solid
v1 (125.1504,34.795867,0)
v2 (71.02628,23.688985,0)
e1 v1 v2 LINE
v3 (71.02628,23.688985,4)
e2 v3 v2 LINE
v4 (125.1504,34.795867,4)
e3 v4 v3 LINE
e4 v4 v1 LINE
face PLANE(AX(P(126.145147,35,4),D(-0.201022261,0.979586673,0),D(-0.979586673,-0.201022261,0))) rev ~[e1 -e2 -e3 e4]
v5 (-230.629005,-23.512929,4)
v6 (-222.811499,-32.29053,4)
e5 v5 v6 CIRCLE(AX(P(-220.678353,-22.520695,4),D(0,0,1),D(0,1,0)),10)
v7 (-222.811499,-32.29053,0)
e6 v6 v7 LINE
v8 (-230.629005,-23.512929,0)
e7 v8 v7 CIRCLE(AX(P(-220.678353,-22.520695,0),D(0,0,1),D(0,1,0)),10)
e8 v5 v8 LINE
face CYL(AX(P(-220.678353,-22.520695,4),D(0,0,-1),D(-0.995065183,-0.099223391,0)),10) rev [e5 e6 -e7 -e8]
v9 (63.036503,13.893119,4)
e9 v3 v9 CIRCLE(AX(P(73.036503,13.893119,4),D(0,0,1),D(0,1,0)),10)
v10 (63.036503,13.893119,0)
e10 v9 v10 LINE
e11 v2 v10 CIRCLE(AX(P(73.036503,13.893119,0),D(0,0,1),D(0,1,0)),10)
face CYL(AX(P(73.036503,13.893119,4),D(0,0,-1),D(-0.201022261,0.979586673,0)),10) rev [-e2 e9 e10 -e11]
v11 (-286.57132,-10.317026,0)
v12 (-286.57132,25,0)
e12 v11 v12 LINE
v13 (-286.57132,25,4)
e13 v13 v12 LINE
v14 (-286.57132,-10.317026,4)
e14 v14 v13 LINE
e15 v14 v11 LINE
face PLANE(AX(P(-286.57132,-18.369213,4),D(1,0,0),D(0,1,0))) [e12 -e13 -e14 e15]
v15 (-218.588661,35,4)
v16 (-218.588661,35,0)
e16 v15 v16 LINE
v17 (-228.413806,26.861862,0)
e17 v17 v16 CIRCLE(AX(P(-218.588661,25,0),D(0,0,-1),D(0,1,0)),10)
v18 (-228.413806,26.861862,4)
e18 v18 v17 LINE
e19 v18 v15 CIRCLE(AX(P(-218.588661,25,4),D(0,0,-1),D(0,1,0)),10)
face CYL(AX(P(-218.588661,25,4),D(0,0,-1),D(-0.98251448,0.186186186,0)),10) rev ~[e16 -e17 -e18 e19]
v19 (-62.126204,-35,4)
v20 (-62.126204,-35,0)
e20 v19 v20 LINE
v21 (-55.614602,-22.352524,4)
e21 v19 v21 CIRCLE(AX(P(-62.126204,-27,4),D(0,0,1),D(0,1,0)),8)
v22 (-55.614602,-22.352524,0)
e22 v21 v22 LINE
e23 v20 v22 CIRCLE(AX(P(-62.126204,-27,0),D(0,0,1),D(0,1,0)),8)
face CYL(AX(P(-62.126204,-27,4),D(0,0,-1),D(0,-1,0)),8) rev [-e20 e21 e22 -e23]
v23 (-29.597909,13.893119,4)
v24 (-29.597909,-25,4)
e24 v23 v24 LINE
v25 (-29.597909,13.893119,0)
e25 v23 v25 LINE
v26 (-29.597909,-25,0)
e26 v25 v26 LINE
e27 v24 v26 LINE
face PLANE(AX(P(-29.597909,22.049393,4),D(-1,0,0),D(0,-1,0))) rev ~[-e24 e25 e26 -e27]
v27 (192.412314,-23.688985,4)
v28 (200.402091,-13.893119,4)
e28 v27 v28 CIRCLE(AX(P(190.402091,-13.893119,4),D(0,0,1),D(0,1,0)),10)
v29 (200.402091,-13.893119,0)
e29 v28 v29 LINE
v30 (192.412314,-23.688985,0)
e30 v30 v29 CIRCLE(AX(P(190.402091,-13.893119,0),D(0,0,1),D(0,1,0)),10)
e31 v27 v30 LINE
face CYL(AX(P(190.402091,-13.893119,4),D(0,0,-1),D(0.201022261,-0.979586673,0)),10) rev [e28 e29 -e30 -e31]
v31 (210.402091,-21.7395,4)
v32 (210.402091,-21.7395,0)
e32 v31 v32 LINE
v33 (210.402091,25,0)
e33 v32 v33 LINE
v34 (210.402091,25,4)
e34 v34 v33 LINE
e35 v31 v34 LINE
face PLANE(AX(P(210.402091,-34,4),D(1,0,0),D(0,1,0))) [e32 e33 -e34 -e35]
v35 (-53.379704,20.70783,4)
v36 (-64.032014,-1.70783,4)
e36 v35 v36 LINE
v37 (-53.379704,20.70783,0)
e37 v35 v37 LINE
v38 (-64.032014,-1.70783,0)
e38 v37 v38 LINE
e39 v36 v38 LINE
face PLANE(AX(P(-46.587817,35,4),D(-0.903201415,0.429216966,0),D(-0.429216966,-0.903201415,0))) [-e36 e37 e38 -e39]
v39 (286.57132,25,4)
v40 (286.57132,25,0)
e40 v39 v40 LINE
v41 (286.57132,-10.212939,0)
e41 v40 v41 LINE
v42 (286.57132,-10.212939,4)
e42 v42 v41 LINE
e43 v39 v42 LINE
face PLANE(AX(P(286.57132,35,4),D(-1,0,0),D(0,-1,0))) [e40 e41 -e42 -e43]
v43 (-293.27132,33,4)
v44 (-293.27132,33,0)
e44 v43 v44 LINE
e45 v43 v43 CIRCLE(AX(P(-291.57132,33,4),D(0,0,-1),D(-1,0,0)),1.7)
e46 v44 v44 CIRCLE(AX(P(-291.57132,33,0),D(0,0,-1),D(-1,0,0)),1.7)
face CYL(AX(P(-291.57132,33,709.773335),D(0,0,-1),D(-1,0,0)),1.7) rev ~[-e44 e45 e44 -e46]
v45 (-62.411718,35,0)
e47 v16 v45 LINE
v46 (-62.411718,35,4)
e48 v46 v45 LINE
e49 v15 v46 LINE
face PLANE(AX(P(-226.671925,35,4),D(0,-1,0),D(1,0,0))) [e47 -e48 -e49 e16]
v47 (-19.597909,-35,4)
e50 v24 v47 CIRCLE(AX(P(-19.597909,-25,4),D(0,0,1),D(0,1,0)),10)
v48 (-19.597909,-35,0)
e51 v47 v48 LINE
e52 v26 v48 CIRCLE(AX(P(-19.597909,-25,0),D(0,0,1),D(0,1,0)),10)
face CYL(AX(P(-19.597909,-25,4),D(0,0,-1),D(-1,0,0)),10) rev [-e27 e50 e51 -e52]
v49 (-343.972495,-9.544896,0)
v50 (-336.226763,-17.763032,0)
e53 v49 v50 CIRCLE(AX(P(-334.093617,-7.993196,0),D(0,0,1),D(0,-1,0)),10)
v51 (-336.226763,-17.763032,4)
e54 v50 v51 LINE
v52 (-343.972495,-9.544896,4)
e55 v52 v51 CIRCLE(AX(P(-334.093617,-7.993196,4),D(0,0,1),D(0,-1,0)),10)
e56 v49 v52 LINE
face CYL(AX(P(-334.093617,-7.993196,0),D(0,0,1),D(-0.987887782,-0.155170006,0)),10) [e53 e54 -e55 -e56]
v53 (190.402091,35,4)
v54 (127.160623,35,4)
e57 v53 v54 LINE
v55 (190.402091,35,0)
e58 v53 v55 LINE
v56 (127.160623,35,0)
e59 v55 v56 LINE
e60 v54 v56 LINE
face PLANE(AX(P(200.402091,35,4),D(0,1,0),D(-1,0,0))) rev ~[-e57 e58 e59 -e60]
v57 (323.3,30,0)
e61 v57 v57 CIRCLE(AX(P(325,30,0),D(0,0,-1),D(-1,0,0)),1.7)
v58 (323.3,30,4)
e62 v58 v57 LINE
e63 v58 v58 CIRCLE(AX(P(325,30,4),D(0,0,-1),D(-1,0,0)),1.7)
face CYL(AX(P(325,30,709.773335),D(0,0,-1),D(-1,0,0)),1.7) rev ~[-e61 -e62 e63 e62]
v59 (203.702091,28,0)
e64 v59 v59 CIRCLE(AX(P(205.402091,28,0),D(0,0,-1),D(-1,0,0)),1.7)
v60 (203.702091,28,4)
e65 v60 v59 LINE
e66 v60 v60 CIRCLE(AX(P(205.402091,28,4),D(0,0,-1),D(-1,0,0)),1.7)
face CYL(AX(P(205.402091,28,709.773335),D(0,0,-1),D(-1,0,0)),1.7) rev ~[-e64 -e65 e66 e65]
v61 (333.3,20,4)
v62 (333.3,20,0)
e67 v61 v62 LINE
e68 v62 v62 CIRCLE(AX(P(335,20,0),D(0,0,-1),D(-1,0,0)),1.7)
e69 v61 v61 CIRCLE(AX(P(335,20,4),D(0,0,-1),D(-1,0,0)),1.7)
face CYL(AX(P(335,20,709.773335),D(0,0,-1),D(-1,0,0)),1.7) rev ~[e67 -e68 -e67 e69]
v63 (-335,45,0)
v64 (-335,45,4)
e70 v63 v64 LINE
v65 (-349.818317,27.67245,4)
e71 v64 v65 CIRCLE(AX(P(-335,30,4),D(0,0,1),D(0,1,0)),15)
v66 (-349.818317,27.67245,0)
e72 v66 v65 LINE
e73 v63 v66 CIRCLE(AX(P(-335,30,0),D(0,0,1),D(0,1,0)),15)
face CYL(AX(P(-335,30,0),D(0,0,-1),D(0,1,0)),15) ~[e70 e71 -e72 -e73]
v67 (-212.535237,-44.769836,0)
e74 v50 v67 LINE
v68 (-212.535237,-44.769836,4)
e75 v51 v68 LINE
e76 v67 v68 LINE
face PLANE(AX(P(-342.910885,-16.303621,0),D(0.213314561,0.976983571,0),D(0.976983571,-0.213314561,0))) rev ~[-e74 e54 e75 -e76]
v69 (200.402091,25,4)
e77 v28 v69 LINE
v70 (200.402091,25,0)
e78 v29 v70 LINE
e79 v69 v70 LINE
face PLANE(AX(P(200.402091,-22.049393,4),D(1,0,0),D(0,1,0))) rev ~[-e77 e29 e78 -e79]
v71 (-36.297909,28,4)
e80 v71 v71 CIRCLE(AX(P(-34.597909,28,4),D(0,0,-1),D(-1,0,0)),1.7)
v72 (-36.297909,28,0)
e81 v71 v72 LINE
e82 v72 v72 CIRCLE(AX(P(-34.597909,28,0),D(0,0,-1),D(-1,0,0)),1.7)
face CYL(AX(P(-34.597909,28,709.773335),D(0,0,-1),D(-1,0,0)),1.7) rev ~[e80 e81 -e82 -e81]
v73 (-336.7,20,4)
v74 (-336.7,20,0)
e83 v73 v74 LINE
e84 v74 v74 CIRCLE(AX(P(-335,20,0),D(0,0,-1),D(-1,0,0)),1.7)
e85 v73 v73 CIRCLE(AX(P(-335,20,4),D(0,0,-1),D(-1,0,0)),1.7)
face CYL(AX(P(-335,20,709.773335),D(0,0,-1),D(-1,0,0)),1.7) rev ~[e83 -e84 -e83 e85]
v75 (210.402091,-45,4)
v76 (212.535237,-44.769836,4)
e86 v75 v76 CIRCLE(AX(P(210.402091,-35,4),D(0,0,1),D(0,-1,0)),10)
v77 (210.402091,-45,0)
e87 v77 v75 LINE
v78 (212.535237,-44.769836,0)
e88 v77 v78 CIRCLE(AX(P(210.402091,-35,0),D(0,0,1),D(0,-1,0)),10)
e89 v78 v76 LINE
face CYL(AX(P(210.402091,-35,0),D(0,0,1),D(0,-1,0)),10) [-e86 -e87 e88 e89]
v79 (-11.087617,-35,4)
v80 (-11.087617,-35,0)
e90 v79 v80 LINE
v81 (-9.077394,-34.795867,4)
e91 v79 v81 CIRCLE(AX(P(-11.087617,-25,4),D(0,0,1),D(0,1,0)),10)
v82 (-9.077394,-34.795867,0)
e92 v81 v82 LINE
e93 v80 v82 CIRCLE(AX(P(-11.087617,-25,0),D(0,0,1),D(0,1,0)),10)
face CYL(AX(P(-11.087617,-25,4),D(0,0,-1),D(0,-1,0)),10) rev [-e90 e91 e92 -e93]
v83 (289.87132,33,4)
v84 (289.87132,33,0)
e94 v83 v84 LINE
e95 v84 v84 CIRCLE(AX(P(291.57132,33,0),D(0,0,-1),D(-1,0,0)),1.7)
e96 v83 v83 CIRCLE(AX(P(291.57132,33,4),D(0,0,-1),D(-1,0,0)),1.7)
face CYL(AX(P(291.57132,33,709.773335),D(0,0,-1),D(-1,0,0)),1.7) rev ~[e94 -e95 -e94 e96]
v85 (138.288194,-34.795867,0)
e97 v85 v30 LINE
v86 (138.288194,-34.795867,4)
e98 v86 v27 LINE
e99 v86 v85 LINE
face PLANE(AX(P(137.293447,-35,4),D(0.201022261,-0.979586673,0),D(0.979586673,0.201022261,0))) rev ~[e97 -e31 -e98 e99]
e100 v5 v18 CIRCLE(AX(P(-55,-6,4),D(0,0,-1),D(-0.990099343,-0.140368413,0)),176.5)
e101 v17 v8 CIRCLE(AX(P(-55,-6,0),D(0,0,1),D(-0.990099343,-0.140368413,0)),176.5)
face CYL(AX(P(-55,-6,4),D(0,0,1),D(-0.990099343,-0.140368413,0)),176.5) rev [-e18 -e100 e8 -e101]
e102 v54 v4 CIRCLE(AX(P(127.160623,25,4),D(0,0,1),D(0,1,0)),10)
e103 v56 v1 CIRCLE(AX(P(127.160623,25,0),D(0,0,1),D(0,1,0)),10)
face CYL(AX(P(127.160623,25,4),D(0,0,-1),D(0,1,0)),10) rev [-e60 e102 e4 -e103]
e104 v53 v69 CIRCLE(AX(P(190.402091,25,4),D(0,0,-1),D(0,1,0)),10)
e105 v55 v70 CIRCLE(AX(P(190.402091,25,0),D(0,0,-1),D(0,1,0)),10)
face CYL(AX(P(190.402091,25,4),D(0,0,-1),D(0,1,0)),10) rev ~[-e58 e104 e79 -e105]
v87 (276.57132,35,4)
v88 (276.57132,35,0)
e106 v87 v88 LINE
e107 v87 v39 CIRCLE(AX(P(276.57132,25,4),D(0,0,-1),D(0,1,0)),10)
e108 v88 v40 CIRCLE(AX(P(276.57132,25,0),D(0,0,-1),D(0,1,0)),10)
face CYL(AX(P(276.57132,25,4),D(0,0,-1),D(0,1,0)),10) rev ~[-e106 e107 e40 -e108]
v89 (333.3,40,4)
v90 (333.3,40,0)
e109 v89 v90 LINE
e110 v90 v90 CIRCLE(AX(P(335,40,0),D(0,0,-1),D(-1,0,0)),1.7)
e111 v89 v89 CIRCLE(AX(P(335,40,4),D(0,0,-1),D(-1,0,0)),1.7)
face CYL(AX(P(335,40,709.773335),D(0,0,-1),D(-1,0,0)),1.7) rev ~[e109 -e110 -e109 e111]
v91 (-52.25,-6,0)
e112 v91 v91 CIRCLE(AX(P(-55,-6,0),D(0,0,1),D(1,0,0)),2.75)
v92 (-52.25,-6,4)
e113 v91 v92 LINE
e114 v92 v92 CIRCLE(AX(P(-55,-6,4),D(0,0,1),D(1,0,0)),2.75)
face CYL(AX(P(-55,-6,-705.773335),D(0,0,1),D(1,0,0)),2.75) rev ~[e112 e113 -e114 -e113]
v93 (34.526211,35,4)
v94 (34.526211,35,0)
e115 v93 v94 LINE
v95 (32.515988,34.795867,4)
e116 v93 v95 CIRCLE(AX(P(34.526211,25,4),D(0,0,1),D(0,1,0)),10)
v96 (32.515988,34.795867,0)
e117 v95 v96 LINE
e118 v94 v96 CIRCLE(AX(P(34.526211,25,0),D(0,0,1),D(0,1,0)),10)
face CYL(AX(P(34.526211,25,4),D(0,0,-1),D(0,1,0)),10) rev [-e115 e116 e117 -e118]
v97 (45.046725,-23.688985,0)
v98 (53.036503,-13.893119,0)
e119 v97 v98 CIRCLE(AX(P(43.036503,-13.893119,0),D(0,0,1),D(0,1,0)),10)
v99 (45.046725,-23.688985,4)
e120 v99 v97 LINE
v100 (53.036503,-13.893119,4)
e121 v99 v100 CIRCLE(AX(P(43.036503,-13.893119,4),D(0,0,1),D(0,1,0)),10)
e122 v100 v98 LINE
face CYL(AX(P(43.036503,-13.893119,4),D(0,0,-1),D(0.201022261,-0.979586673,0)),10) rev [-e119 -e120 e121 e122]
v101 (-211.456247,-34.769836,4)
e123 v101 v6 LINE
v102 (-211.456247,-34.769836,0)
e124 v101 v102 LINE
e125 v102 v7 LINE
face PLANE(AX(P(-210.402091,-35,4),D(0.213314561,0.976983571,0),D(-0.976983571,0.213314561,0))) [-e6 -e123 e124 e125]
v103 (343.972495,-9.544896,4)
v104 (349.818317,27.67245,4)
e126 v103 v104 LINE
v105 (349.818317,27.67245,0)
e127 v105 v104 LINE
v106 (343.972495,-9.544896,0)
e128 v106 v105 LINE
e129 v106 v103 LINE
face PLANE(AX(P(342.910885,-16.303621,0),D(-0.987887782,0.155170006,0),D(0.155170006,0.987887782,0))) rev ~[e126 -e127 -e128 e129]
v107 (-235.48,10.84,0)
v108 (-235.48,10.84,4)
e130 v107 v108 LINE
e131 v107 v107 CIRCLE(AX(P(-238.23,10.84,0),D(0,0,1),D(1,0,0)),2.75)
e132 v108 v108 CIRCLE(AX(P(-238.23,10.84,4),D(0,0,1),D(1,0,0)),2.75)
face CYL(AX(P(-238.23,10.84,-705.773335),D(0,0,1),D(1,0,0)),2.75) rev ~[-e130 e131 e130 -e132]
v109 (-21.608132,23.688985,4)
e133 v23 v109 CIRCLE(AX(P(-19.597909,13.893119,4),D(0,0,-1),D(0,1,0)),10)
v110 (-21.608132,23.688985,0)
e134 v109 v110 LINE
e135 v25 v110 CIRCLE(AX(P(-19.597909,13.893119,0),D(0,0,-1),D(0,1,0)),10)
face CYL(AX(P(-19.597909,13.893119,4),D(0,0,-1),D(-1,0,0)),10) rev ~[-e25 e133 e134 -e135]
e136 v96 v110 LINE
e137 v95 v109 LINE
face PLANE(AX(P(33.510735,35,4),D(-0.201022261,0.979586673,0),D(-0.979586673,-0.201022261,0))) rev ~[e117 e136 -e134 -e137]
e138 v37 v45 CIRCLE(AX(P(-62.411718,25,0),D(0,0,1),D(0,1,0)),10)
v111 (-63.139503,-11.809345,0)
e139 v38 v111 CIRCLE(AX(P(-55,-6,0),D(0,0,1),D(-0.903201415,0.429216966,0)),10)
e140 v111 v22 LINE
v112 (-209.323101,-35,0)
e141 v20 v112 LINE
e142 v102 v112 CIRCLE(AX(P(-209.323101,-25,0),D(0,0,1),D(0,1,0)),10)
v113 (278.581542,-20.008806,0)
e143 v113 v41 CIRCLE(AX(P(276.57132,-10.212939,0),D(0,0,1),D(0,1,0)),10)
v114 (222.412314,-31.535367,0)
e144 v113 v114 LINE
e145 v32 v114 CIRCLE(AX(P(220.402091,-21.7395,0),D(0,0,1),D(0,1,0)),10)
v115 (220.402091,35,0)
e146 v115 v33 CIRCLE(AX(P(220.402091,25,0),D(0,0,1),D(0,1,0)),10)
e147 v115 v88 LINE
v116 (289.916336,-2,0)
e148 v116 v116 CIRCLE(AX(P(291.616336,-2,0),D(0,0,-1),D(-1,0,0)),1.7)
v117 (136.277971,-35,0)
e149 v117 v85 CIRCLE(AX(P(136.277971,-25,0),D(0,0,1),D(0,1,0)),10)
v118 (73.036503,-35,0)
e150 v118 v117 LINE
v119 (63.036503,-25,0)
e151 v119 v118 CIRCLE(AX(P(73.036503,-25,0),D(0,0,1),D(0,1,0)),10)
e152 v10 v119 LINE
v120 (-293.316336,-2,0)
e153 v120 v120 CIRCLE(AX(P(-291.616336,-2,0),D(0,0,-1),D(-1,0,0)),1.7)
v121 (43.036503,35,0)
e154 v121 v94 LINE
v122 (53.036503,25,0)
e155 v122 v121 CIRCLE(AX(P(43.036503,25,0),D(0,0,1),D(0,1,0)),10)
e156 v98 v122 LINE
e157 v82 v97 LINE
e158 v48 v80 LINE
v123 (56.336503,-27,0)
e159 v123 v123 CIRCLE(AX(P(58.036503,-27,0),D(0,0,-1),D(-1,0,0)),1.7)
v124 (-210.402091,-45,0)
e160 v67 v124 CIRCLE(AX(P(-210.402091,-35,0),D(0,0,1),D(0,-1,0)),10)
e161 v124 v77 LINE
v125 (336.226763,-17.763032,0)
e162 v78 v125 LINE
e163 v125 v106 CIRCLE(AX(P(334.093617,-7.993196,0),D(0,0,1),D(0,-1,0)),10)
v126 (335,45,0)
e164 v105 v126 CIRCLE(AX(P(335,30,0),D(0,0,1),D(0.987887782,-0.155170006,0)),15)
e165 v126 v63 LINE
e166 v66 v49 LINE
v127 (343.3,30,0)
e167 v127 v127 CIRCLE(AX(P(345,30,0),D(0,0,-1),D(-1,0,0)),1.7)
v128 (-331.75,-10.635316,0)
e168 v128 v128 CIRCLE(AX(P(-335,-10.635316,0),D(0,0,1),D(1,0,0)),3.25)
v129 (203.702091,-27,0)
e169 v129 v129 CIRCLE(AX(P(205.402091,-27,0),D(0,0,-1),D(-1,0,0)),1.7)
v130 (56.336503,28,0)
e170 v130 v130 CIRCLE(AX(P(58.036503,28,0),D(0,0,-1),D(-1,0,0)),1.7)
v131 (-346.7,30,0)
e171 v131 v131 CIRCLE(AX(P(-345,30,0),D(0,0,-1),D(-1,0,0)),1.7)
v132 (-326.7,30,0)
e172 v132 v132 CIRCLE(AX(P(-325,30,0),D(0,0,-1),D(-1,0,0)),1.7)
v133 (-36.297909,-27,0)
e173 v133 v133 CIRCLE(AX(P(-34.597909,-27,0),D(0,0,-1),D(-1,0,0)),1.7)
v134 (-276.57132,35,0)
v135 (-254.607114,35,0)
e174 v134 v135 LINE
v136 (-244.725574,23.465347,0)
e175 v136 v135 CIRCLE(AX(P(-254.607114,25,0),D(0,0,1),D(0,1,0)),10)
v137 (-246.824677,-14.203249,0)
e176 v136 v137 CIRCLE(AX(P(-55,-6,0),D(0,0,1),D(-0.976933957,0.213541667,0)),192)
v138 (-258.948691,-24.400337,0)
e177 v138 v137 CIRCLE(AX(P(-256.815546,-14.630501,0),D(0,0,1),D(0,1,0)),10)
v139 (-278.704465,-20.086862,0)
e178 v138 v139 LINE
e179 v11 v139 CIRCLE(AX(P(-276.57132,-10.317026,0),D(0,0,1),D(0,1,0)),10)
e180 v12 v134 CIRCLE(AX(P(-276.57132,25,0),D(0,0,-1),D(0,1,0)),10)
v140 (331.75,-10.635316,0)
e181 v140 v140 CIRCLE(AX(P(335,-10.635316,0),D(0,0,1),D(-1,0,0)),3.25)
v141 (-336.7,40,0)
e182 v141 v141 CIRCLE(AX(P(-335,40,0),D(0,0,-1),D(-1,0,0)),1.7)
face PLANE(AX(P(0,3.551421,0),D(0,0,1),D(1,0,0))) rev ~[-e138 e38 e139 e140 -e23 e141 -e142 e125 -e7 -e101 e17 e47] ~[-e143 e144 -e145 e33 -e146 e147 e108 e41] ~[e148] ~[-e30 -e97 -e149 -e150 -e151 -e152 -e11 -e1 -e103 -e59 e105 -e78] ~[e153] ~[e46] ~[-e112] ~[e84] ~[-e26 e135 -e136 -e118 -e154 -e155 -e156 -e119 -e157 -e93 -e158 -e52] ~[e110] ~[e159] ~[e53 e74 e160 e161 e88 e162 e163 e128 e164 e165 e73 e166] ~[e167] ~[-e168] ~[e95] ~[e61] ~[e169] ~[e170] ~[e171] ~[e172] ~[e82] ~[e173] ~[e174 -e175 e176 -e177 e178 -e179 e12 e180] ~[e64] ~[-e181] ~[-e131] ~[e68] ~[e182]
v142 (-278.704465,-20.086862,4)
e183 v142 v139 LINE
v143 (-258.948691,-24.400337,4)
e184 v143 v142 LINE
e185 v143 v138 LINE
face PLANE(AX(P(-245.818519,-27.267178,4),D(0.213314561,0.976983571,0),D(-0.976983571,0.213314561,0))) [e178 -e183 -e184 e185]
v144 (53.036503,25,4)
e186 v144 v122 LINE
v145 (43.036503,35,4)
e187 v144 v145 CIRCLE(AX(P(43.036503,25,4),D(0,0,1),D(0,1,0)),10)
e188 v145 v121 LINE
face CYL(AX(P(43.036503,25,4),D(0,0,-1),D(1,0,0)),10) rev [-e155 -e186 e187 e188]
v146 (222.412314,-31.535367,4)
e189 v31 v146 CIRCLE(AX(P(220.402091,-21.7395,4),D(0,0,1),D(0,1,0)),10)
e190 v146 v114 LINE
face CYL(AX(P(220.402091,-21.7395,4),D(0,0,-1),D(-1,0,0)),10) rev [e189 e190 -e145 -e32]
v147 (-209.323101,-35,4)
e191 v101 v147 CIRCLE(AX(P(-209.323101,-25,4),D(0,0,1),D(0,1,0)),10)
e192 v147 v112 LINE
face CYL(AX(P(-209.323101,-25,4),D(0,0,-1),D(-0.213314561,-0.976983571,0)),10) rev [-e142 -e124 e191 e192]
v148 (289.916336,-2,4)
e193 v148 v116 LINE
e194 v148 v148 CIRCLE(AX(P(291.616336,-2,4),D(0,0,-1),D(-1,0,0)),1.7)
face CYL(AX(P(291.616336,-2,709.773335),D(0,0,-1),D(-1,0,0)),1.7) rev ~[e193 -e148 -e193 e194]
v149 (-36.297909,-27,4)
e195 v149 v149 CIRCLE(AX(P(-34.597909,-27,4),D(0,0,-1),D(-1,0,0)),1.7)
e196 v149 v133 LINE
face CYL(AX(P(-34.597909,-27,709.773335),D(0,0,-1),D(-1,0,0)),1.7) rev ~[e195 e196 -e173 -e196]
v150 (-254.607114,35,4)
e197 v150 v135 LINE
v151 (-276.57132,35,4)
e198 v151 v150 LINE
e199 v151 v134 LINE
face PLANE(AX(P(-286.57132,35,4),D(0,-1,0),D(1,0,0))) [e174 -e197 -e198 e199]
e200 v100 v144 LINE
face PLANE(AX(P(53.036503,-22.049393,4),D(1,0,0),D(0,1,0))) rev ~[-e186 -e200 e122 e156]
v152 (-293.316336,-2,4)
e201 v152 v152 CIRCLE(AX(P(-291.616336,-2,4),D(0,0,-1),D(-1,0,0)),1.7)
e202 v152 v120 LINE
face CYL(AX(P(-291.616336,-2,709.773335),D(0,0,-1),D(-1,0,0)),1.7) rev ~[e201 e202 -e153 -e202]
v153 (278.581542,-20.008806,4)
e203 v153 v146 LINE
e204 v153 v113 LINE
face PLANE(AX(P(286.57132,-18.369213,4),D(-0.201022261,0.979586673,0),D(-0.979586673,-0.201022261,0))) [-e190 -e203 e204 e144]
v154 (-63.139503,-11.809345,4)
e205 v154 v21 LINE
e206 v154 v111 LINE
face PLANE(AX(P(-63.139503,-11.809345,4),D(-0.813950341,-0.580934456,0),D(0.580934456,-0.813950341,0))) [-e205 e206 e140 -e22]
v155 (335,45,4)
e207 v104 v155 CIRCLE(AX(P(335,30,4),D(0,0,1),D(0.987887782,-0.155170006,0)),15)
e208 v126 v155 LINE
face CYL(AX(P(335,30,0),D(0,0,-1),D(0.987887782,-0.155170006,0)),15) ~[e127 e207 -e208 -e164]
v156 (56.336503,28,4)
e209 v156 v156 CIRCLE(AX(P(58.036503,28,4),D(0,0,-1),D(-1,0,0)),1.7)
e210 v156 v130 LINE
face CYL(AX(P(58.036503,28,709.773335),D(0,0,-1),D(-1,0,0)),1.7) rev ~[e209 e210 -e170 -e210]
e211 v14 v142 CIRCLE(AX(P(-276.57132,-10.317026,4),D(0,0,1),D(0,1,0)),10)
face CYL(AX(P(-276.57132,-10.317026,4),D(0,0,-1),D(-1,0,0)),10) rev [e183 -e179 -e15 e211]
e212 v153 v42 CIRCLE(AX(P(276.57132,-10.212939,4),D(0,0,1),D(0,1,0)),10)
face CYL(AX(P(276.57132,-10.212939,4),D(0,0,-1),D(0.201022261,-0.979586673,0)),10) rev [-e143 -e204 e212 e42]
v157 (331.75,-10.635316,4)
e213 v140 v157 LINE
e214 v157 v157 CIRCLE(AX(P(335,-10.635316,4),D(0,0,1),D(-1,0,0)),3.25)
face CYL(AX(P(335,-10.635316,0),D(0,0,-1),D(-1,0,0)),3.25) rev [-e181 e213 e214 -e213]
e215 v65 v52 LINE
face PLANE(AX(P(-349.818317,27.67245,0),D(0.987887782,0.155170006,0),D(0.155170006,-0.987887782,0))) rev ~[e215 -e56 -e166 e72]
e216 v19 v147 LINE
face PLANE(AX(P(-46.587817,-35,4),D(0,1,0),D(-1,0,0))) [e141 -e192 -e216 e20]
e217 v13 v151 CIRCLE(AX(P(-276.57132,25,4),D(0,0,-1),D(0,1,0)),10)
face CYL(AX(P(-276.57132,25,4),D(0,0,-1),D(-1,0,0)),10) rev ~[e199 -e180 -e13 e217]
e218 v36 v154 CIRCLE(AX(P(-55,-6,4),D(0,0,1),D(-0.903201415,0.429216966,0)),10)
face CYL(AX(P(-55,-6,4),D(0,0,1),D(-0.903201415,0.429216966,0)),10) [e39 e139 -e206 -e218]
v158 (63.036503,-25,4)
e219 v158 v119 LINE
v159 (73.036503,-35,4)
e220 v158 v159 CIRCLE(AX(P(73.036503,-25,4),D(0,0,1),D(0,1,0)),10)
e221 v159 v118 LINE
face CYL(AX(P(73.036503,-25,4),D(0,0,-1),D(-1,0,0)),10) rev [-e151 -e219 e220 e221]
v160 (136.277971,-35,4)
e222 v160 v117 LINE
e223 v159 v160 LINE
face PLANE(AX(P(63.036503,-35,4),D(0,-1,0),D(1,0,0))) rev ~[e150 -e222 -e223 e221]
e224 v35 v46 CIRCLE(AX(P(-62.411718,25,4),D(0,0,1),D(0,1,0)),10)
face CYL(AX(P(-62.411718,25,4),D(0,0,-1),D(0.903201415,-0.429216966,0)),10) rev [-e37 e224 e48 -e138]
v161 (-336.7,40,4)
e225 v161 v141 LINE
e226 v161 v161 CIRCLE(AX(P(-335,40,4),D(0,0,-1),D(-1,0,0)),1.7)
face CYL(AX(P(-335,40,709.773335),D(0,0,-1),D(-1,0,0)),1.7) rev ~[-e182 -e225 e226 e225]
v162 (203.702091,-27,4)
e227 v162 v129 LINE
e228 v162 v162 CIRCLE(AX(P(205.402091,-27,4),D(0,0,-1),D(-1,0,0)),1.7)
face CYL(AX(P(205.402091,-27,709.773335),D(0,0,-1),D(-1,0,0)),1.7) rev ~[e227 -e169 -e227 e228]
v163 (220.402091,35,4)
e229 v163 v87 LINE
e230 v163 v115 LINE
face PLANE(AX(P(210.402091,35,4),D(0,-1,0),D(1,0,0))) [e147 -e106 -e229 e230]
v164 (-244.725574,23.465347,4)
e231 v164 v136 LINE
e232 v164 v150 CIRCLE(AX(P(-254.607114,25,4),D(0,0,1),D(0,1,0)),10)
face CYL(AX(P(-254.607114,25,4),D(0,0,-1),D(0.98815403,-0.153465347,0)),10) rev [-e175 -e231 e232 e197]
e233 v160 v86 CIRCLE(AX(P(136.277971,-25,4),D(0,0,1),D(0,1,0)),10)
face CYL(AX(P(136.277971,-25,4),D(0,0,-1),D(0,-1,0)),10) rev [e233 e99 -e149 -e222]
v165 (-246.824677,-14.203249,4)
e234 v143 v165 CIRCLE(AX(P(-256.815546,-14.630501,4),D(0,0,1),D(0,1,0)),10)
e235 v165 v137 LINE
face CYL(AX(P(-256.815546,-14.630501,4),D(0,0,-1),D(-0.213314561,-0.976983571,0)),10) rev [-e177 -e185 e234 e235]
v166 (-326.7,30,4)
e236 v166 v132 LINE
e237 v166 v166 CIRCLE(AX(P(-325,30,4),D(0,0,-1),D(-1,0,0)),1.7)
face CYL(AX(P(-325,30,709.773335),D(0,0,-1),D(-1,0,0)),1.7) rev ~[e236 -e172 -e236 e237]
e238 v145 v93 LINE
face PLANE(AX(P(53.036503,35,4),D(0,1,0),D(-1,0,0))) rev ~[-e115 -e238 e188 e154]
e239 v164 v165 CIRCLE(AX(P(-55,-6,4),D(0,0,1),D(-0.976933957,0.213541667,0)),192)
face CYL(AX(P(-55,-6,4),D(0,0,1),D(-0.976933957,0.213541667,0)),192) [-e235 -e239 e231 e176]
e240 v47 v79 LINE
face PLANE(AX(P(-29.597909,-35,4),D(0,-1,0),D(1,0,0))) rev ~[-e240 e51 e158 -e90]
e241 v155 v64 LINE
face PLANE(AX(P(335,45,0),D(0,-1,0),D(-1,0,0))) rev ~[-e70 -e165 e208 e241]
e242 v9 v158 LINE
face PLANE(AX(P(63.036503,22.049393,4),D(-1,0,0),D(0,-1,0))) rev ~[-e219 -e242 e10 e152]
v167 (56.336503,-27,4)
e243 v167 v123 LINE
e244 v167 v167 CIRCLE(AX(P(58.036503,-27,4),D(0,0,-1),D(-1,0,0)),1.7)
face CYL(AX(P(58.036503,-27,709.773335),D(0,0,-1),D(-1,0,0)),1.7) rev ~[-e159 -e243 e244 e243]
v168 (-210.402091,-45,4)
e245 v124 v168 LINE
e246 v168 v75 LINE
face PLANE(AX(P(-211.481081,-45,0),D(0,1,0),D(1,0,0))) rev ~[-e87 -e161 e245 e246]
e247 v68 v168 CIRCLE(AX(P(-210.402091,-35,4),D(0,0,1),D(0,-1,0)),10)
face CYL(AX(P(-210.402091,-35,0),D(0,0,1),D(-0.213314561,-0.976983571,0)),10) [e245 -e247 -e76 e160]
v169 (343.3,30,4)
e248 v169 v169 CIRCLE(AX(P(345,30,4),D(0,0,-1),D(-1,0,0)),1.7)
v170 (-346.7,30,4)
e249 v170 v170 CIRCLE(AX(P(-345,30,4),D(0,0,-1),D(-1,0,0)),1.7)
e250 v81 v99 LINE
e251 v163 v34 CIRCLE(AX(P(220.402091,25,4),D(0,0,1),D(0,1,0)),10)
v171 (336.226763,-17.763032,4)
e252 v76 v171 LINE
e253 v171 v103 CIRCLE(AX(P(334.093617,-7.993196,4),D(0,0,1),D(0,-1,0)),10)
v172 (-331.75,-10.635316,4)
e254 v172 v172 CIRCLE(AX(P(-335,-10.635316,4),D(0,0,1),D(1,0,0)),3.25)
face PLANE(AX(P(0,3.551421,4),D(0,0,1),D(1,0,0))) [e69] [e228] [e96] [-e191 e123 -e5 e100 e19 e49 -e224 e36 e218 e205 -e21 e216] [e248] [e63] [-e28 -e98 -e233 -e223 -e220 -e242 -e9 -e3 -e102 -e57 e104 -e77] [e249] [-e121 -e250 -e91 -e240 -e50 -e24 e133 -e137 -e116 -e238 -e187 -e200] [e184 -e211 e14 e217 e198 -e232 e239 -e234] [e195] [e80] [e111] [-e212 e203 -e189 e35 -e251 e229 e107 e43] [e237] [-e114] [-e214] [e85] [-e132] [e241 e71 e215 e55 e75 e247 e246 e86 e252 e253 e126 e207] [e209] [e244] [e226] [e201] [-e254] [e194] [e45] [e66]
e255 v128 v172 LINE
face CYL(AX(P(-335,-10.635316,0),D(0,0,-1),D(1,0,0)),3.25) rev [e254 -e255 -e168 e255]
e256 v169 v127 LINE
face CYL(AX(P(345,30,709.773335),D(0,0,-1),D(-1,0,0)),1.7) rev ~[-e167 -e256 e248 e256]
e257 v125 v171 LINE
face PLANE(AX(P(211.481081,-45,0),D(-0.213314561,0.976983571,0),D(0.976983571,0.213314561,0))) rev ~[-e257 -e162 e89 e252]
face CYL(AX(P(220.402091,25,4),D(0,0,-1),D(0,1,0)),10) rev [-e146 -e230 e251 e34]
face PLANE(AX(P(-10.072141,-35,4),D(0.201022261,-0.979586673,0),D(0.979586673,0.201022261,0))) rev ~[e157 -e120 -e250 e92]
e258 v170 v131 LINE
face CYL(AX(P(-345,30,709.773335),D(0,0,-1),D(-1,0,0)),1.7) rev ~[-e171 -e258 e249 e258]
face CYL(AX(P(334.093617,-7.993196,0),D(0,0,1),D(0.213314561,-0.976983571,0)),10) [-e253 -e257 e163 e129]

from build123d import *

# Parameters (mm, degrees)
SKETCH_1_R          = 3.25
EXTRUDE_1_DEPTH     = 4
HOLE_WIZARD_M32_D   = 3.4
HOLE_WIZARD_M52_D   = 5.5
CUT_EXTRUDE_3_DEPTH = 353.903669576
FILLET_2_R          = 10
FILLET_3_R          = 10
HOLE_WIZARD_M31_D   = 3.4
FILLET_4_R          = 8


with BuildPart() as part:
    # Эскиз1 → Бобышка-Вытянуть1 (new body)
    with BuildSketch(Plane.XY):
        with BuildLine():
            Line((-349.818316726, 27.672449915), (-342.910885265, -16.303620822))
            Line((-342.910885265, -16.303620822), (-211.481081006, -45))
            Line((-211.481081006, -45), (211.481081006, -45))
            Line((211.481081006, -45), (342.910885265, -16.303620822))
            Line((342.910885265, -16.303620822), (349.818316726, 27.672449915))
            ThreePointArc((349.818316726, 27.672449915), (346.399852001, 39.749019149), (335, 45))
            Line((335, 45), (-335, 45))
            ThreePointArc((-335, 45), (-346.399852001, 39.749019149), (-349.818316726, 27.672449915))
        make_face()
        with Locations((-335, -10.635315981)):
            Circle(SKETCH_1_R, mode=Mode.SUBTRACT)
        with Locations(Location((335, -10.635315981, 0), (0, 0, 180))):
            Circle(SKETCH_1_R, mode=Mode.SUBTRACT)
    extrude(amount=EXTRUDE_1_DEPTH)

    # Отверстие с зазором M32 (through all)
    with Locations(Plane.XY.offset(4)):
        with Locations((-335, 40), (-345, 30), (-335, 20), (-325, 30), (325, 30), (335, 40), (345, 30), (335, 20)):
            Hole(HOLE_WIZARD_M32_D / 2)

    # Отверстие с зазором M52 (through all)
    with Locations(Plane(origin=(0, 0, 0), x_dir=(-1, 0, 0), z_dir=(0, 0, -1))):
        with Locations((55, -6), (238.23, 10.84)):
            Hole(HOLE_WIZARD_M52_D / 2)

    # Эскиз10 → Вырез-Вытянуть3 (cut, through all)
    with BuildSketch(Plane.XY.offset(4)):
        with BuildLine():
            Line((-286.571319769, 35), (-242.571319769, 35))
            ThreePointArc((-242.571319769, 35), (-246.739453064, 3.999106889), (-245.818518827, -27.267178292))
            Line((-245.818518827, -27.267178292), (-286.571319769, -18.369213063))
            Line((-286.571319769, -18.369213063), (-286.571319769, 35))
        make_face()
        with BuildLine():
            Line((-226.671925486, 35), (-46.587816989, 35))
            Line((-46.587816989, 35), (-64.032014151, -1.707830342))
            ThreePointArc((-64.032014151, -1.707830342), (-64.961194769, -6.880112935), (-63.13950341, -11.809344562))
            Line((-63.13950341, -11.809344562), (-46.587816989, -35))
            Line((-46.587816989, -35), (-210.402090952, -35))
            Line((-210.402090952, -35), (-229.752534006, -30.775024894))
            ThreePointArc((-229.752534006, -30.775024894), (-231.306735573, 2.257420391), (-226.671925486, 35))
        make_face()
        Polygon((286.571319769, 35), (286.571319769, -18.369213063), (210.402090952, -34), (210.402090952, 35), align=None)
        Polygon((200.402090952, 35), (126.145146633, 35), (63.036502818, 22.049392771), (63.036502818, -35), (137.293447136, -35), (200.402090952, -22.049392771), align=None)
        Polygon((-29.597909048, 22.049392771), (-29.597909048, -35), (-10.072140997, -35), (53.036502818, -22.049392771), (53.036502818, 35), (33.510734767, 35), align=None)
    extrude(amount=-CUT_EXTRUDE_3_DEPTH, mode=Mode.SUBTRACT)

    # Скругление2
    fillet_2_edges = [part.edges().sort_by_distance(p)[0] for p in [
        (210.402090952, 35, 2),
        (286.571319769, 35, 2),
        (286.571319769, -18.369213063, 2),
        (210.402090952, -34, 2),
        (-210.402090952, -35, 2),
        (-229.752534006, -30.775024894, 2),
        (-226.671925486, 35, 2),
        (-46.587816989, 35, 2),
        (342.910885265, -16.303620822, 2),
        (211.481081006, -45, 2),
        (-211.481081006, -45, 2),
        (-342.910885265, -16.303620822, 2),
        (-286.571319769, -18.369213063, 2),
        (-286.571319769, 35, 2),
        (-242.571319769, 35, 2),
        (-245.818518827, -27.267178292, 2),
    ]]
    fillet(fillet_2_edges, radius=FILLET_2_R)

    # Скругление3
    fillet_3_edges = [part.edges().sort_by_distance(p)[0] for p in [
        (63.036502818, 22.049392771, 2),
        (126.145146633, 35, 2),
        (200.402090952, 35, 2),
        (200.402090952, -22.049392771, 2),
        (137.293447136, -35, 2),
        (63.036502818, -35, 2),
        (33.510734767, 35, 2),
        (53.036502818, 35, 2),
        (53.036502818, -22.049392771, 2),
        (-10.072140997, -35, 2),
        (-29.597909048, -35, 2),
        (-29.597909048, 22.049392771, 2),
    ]]
    fillet(fillet_3_edges, radius=FILLET_3_R)

    # Отверстие с зазором M31 (through all)
    with Locations(Plane.XY.offset(4)):
        with Locations((-34.597909048, 28), (-34.597909048, -27), (205.402090952, -27), (205.402090952, 28), (291.571319769, 33), (291.6163356, -2), (-291.6163356, -2), (-291.571319769, 33), (58.036502818, 28), (58.036502818, -27)):
            Hole(HOLE_WIZARD_M31_D / 2)

    # Скругление4
    fillet_4_edges = [part.edges().sort_by_distance(p)[0] for p in [
        (-46.587816989, -35, 2),
    ]]
    fillet(fillet_4_edges, radius=FILLET_4_R)


solid = part.part
